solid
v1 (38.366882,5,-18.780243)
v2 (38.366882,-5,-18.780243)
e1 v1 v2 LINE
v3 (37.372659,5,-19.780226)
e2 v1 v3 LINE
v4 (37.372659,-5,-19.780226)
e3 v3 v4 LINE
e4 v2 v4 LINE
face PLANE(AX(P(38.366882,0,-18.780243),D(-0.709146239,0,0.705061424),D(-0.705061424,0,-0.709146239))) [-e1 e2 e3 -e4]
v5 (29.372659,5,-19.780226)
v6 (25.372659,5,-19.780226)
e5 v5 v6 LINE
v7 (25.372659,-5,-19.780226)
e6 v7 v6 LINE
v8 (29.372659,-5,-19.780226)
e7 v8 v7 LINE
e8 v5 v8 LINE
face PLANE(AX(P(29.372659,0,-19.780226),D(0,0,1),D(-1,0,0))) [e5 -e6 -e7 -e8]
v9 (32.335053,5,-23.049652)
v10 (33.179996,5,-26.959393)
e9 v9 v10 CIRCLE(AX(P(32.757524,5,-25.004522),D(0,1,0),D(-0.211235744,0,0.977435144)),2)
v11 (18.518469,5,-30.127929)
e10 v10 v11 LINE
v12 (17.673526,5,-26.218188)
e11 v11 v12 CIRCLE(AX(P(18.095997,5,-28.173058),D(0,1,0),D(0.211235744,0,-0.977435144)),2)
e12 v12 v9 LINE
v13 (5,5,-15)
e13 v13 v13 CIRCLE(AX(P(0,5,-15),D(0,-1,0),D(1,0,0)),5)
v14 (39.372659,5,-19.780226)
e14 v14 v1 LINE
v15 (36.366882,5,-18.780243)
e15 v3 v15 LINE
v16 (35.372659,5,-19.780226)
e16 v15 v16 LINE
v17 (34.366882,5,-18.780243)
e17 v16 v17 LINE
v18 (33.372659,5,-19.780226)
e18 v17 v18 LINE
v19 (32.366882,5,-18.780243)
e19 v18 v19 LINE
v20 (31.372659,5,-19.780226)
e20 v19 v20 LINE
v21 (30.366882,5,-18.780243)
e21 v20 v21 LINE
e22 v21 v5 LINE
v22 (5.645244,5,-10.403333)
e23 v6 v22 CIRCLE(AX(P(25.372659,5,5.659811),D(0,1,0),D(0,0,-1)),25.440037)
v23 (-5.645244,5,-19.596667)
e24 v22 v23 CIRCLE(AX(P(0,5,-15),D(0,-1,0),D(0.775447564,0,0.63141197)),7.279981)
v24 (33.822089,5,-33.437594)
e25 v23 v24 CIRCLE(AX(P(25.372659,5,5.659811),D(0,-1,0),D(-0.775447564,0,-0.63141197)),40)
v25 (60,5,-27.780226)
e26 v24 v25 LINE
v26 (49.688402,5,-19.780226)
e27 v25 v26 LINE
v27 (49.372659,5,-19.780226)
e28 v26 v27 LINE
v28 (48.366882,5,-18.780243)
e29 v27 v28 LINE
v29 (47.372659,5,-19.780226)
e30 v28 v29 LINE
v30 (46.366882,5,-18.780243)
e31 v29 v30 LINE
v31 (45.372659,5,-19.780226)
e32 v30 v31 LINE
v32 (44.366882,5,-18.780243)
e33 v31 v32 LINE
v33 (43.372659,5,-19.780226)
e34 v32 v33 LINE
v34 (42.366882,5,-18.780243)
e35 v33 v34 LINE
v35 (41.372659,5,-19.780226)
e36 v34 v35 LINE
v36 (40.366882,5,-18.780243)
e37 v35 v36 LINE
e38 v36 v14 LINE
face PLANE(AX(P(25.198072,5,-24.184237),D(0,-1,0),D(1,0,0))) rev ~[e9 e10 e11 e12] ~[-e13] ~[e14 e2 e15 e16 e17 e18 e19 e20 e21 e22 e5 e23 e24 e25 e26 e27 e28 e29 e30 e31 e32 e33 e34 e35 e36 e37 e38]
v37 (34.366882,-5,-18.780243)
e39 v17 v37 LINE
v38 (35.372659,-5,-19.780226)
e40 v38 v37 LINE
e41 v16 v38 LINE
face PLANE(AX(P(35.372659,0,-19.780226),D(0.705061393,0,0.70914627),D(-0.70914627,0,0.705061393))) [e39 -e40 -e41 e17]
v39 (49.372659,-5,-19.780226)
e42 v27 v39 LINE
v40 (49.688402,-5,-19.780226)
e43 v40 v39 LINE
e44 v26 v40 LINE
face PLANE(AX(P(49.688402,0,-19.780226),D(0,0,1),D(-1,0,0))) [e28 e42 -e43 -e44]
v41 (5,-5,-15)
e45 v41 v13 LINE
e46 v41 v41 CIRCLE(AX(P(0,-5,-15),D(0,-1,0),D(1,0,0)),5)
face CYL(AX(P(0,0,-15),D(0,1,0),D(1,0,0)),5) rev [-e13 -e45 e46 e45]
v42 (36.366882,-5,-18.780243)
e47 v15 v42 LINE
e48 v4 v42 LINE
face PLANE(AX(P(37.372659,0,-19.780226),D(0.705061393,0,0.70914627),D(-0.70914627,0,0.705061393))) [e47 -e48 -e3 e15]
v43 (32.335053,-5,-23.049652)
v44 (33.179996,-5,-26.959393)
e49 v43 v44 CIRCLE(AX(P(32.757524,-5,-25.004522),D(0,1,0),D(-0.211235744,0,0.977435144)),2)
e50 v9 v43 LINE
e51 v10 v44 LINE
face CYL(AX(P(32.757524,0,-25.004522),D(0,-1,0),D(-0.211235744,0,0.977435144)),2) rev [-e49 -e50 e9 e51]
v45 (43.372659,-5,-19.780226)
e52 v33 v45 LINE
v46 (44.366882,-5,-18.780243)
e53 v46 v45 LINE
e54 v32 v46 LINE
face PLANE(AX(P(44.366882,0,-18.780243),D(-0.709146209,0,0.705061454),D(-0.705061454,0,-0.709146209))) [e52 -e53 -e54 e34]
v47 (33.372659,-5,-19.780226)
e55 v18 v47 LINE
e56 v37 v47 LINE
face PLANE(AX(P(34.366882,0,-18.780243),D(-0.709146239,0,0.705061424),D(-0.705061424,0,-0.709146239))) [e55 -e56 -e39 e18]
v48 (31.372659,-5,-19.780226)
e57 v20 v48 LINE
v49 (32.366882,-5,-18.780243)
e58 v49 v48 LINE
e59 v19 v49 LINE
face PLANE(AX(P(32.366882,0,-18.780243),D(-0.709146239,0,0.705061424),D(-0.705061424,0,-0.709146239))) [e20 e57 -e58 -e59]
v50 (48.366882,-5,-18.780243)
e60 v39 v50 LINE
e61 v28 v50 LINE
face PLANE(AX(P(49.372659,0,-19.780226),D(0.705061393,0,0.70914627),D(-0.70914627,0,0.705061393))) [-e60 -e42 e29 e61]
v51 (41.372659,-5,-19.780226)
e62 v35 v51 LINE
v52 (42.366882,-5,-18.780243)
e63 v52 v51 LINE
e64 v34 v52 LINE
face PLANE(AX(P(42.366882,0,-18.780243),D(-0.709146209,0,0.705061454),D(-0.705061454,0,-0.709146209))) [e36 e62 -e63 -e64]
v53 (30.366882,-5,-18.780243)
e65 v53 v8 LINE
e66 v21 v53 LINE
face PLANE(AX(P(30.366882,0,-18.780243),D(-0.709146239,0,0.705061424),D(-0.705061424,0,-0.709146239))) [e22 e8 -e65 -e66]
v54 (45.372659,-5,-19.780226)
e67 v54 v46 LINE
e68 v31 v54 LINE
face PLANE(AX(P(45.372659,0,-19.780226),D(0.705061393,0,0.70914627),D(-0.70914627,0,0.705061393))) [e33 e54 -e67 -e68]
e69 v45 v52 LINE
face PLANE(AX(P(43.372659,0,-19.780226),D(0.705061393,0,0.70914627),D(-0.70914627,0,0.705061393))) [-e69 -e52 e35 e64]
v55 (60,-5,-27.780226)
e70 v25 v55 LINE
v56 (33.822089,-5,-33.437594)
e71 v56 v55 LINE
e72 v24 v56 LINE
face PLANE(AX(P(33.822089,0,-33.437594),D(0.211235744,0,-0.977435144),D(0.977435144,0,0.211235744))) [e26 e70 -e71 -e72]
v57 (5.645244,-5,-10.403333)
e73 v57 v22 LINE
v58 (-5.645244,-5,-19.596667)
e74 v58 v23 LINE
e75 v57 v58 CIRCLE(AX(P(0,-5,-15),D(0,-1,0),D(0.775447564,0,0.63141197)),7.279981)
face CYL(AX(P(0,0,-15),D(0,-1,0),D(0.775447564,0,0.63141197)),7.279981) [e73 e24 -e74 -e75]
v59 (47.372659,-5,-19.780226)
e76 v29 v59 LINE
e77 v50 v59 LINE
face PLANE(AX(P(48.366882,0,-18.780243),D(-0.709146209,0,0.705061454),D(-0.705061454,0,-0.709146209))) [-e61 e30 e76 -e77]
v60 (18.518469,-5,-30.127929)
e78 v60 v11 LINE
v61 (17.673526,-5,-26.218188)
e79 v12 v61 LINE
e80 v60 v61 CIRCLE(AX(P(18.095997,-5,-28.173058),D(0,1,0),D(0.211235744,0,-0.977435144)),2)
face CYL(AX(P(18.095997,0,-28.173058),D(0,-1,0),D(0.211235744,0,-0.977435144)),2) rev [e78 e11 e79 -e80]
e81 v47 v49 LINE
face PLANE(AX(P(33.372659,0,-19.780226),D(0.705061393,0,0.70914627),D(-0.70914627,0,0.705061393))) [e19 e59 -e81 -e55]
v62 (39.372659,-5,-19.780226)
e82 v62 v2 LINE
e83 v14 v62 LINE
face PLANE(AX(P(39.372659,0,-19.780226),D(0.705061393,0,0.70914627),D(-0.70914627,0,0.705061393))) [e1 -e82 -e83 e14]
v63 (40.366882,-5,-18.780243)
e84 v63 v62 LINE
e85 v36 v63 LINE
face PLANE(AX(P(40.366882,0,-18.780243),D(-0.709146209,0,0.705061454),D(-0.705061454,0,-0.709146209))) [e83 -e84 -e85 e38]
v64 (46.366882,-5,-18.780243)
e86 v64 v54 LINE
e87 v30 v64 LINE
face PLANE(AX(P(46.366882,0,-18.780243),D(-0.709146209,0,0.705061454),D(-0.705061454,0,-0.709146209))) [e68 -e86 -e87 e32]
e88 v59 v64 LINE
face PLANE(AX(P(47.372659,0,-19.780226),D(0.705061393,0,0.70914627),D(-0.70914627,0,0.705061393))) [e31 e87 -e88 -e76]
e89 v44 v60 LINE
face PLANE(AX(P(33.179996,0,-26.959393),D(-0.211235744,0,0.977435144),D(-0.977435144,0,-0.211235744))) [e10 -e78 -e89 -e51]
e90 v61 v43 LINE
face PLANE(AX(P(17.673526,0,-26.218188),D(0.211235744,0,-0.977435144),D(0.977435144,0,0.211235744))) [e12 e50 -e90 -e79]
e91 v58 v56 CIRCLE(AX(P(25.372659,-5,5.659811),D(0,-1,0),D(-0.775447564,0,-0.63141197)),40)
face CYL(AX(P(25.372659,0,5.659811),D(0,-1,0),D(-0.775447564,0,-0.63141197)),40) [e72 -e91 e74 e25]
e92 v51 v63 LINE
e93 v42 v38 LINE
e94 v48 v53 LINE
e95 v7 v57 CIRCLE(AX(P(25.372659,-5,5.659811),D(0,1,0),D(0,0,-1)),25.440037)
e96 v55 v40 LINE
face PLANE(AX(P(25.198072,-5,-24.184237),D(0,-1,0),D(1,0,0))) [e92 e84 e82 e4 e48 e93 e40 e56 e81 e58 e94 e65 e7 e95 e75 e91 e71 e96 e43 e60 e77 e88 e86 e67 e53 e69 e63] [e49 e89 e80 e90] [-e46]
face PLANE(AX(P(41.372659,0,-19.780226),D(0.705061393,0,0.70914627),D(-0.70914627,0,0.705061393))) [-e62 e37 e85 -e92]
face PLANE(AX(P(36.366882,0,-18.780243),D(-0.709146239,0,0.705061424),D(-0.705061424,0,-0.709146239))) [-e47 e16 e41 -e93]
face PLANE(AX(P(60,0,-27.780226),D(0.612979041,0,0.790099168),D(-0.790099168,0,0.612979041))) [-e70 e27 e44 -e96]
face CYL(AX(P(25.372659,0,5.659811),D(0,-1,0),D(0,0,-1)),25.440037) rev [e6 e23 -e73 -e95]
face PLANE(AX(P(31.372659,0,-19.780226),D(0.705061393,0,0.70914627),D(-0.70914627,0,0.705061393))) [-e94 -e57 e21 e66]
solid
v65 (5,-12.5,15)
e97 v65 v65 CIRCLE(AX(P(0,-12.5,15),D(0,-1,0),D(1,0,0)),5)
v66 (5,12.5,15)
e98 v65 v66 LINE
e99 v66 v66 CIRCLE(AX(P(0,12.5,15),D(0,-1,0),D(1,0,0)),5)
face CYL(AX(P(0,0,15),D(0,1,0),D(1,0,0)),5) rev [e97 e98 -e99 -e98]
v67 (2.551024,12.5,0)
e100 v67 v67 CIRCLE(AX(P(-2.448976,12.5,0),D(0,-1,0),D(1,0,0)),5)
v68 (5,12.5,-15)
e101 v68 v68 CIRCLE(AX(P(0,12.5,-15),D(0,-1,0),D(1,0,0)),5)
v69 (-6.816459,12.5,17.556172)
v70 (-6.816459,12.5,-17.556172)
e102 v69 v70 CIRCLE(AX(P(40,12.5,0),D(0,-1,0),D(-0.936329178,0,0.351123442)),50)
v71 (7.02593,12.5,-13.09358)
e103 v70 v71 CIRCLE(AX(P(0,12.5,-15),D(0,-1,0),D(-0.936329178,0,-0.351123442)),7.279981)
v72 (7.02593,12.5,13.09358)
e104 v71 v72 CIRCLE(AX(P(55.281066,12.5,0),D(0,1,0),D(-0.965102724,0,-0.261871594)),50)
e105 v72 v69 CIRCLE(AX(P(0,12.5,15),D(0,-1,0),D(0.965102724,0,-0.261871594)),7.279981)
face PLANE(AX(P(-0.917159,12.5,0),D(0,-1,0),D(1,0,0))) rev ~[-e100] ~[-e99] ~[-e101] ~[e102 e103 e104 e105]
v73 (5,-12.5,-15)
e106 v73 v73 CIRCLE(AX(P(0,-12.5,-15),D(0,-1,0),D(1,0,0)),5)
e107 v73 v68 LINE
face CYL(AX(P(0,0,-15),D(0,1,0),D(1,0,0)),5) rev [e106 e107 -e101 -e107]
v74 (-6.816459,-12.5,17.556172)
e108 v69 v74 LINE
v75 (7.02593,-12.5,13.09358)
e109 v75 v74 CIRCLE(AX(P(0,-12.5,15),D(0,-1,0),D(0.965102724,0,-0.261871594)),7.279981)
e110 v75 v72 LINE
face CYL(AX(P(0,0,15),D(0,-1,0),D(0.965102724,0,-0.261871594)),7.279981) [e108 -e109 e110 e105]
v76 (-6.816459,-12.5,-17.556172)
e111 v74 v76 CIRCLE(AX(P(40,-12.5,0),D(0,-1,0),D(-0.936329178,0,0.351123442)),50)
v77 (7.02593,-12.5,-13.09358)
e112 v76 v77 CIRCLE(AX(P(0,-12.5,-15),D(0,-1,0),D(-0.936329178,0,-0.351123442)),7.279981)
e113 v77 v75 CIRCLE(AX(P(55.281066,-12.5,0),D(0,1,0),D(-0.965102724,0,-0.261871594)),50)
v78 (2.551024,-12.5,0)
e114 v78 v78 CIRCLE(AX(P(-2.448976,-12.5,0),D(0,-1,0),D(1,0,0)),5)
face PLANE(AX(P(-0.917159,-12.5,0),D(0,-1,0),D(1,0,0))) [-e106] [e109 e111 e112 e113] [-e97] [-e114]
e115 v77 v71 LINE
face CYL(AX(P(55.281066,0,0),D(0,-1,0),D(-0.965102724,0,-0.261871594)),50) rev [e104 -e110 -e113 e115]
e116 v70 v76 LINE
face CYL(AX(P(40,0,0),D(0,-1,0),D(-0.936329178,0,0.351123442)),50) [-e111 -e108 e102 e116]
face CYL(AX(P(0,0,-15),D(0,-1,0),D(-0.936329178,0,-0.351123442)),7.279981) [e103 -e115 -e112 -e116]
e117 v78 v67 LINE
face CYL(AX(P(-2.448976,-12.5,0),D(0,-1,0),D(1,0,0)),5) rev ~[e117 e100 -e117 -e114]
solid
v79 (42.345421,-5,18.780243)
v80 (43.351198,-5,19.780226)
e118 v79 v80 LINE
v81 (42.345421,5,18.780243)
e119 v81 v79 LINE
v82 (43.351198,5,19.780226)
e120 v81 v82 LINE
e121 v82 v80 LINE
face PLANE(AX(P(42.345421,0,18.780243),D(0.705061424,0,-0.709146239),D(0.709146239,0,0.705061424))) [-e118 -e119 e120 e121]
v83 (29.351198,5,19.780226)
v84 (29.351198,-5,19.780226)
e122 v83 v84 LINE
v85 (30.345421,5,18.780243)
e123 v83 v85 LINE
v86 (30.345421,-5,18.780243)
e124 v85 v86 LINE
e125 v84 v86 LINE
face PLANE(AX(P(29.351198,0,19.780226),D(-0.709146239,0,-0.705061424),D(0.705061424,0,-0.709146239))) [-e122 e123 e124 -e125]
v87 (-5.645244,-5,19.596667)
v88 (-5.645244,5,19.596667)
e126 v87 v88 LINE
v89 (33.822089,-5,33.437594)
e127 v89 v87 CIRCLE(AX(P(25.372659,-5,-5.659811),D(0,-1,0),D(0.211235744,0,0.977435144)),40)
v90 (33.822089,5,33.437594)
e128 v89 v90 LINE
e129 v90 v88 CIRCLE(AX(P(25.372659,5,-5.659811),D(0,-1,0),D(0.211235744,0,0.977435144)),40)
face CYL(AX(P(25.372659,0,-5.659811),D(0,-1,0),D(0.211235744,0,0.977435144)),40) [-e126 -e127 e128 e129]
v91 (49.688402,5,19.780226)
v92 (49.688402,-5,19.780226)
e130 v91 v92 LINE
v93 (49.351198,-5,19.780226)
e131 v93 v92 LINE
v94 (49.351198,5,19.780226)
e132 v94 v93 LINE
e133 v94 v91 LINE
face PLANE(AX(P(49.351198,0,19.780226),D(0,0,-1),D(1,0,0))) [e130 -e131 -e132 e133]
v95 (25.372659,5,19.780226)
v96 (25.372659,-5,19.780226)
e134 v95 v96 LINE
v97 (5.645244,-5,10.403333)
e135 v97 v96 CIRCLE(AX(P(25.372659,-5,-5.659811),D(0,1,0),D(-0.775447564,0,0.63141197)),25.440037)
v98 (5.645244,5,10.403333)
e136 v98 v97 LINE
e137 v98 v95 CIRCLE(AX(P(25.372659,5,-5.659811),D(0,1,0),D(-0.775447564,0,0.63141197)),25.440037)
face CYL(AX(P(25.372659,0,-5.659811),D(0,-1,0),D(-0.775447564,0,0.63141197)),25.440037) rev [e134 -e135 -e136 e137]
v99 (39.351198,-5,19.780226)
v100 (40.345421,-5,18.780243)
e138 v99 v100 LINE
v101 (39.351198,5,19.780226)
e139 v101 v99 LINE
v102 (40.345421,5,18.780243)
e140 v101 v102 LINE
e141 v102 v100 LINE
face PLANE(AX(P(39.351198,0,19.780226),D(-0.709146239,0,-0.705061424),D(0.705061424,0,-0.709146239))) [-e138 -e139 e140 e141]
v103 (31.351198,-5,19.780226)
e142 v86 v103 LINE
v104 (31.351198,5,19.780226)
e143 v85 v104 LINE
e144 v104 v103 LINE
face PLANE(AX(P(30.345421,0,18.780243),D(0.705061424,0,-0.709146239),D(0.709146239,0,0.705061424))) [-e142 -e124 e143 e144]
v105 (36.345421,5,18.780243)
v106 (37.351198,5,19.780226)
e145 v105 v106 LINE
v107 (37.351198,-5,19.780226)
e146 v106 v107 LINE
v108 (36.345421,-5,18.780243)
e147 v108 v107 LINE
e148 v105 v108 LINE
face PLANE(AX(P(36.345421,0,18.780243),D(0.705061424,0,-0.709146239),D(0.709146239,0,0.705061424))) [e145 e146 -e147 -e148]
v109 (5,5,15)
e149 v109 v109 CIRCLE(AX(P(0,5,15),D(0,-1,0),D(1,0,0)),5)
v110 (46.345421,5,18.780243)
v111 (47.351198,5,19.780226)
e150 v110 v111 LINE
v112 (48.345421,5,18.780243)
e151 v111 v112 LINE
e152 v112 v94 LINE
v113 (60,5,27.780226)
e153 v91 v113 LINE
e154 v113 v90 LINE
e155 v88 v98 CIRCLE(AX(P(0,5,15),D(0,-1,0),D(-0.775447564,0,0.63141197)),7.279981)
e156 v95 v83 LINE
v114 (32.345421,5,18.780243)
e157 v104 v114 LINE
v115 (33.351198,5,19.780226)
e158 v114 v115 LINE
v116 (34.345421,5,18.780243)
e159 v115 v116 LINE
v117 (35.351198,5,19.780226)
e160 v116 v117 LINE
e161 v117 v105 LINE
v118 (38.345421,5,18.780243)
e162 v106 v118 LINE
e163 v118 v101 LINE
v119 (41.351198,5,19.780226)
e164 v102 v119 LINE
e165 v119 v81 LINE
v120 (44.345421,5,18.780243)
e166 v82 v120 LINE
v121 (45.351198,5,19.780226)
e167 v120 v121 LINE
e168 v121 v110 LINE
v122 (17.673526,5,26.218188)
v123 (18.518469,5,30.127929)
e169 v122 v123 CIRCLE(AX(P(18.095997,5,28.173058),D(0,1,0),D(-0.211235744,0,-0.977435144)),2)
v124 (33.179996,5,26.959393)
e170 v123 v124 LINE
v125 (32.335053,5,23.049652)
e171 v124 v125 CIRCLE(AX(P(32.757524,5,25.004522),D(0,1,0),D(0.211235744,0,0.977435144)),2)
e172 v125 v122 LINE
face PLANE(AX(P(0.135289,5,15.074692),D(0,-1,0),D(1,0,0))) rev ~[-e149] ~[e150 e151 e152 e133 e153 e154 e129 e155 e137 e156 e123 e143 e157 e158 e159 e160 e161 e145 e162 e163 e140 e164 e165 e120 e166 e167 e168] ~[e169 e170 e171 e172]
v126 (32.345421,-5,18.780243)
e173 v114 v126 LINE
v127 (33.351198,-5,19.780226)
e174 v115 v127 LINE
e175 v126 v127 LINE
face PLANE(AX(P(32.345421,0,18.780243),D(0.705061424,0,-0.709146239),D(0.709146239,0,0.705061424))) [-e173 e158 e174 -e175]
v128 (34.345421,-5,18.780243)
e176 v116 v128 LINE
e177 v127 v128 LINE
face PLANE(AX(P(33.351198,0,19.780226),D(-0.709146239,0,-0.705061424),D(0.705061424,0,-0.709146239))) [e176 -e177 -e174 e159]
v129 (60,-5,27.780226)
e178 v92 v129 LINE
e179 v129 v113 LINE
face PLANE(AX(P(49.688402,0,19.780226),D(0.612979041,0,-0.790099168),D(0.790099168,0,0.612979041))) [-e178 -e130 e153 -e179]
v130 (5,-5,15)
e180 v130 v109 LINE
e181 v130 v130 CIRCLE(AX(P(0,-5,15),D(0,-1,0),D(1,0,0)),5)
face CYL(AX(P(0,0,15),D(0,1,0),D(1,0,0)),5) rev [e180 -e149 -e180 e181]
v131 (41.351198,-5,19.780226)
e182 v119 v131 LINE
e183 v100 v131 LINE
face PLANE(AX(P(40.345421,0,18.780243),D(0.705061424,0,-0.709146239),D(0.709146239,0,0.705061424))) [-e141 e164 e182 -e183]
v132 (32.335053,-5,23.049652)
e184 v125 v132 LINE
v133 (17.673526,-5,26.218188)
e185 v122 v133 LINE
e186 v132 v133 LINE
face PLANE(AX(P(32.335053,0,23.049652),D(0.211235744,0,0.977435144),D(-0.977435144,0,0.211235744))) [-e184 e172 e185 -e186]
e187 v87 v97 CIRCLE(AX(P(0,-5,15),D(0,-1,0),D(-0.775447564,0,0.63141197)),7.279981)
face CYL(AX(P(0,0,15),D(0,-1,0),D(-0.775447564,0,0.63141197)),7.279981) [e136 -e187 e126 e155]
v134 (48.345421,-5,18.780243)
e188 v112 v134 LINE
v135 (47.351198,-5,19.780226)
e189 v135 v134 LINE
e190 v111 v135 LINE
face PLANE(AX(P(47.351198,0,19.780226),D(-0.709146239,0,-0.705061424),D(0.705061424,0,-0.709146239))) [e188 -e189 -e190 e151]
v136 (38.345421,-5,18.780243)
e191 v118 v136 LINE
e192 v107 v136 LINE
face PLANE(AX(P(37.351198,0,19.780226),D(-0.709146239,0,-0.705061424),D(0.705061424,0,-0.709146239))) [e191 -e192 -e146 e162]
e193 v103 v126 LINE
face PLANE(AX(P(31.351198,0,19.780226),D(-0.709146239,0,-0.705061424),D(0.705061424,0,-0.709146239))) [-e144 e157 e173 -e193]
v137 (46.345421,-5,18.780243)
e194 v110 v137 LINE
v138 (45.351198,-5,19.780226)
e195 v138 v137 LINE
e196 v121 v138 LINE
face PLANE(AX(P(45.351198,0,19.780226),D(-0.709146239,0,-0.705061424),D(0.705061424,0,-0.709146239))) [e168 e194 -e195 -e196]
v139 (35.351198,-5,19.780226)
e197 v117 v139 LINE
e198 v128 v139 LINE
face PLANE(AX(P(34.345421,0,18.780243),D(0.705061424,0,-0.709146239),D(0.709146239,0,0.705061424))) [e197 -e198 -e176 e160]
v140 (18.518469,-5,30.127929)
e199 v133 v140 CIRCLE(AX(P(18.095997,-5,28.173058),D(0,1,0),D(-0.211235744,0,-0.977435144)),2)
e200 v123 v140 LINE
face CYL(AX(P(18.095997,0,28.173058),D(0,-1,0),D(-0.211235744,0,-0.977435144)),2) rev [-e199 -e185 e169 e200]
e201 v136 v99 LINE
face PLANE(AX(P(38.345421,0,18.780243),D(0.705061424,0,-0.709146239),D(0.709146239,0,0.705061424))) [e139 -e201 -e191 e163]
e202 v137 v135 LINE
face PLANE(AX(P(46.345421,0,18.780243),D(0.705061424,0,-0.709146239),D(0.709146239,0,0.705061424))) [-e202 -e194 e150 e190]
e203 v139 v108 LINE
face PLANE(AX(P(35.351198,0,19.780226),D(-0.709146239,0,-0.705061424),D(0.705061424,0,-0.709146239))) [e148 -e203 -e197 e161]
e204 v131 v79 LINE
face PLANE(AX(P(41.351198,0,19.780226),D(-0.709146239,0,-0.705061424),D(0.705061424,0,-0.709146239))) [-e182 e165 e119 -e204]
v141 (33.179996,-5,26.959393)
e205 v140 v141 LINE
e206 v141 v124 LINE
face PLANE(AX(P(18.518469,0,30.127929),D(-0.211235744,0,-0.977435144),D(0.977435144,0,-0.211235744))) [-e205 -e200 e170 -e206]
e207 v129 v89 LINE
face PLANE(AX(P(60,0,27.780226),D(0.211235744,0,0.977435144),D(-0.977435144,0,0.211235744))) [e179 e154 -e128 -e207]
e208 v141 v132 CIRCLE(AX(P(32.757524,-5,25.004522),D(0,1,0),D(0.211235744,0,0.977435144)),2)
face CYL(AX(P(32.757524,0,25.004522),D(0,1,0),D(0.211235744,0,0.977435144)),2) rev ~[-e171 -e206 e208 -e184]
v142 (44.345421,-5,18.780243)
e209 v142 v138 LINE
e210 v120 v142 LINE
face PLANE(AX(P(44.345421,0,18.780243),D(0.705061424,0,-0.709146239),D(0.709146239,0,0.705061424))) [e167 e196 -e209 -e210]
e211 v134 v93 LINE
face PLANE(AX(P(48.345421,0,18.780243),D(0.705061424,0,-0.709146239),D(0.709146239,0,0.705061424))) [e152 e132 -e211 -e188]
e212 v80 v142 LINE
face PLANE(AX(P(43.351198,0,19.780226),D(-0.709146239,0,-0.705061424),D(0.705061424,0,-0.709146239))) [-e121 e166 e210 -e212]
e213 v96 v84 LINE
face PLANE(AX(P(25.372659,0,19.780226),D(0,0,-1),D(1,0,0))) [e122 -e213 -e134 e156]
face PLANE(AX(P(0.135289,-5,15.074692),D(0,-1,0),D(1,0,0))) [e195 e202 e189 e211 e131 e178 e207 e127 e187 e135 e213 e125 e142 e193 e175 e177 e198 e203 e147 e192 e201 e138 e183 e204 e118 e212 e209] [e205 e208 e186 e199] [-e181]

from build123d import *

# Parameters (mm, degrees)
F0_R     = 5
F2_DEPTH = 12.5
F1_R     = 5
F3_DEPTH = 5
F4_R     = 5
F5_DEPTH = 25.001


with BuildPart() as f2:
    # F0 (on Front) → F2 (new body, symmetric)
    with BuildSketch(Plane.XZ):
        with BuildLine():
            ThreePointArc((7.0259297591, 13.0935796997), (2.2337529405, 21.928814844), (-6.8164588785, 17.5561720794))
            ThreePointArc((-6.8164588785, 17.5561720794), (-10, 0), (-6.8164588785, -17.5561720794))
            ThreePointArc((-6.8164588785, -17.5561720794), (2.2337529405, -21.928814844), (7.0259297591, -13.0935796997))
            ThreePointArc((7.0259297591, -13.0935796997), (5.2810659691, 0), (7.0259297591, 13.0935796997))
        make_face()
        with Locations((0, -15)):
            Circle(F0_R, mode=Mode.SUBTRACT)
        with Locations((0, 15)):
            Circle(F0_R, mode=Mode.SUBTRACT)
    extrude(amount=F2_DEPTH, both=True)

    # F4 (on face) → F5 (cut, through all)
    with BuildSketch(Plane.XZ.offset(12.5)):
        with Locations((0, -15)):
            Circle(F4_R)
        with Locations((0, 15)):
            Circle(F4_R)
        with Locations((-2.44897563, 0)):
            Circle(F4_R)
    extrude(amount=-F5_DEPTH, mode=Mode.SUBTRACT)


with BuildPart() as f3:
    # F1 (on Front) → F3 (new body, symmetric)
    with BuildSketch(Plane.XZ):
        with BuildLine():
            ThreePointArc((5.6452437418, 10.4033326816), (6.8591324548, 12.5606498184), (7.2799812734, 15))
            ThreePointArc((7.2799812734, 15), (2.4393501816, 21.8591324548), (-5.6452437418, 19.5966673184))
            ThreePointArc((-5.6452437418, 19.5966673184), (-4.5966673184, 9.3547562582), (5.6452437418, 10.4033326816))
        make_face()
        with Locations((0, 15)):
            Circle(F1_R, mode=Mode.SUBTRACT)
        with BuildLine():
            ThreePointArc((-5.6452437418, 19.5966673184), (2.4393501816, 21.8591324548), (7.2799812734, 15))
            ThreePointArc((7.2799812734, 15), (6.8591324548, 12.5606498184), (5.6452437418, 10.4033326816))
            ThreePointArc((5.6452437418, 10.4033326816), (14.451383321, 17.3167254025), (25.372658804, 19.780225966))
            Line((25.372658804, 19.780225966), (29.3511980622, 19.780225966))
            Line((29.3511980622, 19.780225966), (31.3511980622, 19.780225966))
            Line((31.3511980622, 19.780225966), (33.3511980622, 19.780225966))
            Line((33.3511980622, 19.780225966), (35.3511980622, 19.780225966))
            Line((35.3511980622, 19.780225966), (37.3511980622, 19.780225966))
            Line((37.3511980622, 19.780225966), (39.3511980622, 19.780225966))
            Line((39.3511980622, 19.780225966), (41.3511980622, 19.780225966))
            Line((41.3511980622, 19.780225966), (43.3511980622, 19.780225966))
            Line((43.3511980622, 19.780225966), (45.3511980622, 19.780225966))
            Line((45.3511980622, 19.780225966), (47.3511980622, 19.780225966))
            Line((47.3511980622, 19.780225966), (49.3511980622, 19.780225966))
            Line((49.3511980622, 19.780225966), (49.6884021907, 19.780225966))
            Line((49.6884021907, 19.780225966), (60, 27.780225966))
            Line((60, 27.780225966), (33.8220885653, 33.437594267))
            ThreePointArc((33.8220885653, 33.437594267), (12.1353325764, 32.0863564553), (-5.6452437418, 19.5966673184))
        make_face()
        with BuildLine():
            ThreePointArc((17.6735257598, 26.2181881521), (16.1411269602, 28.5955299278), (18.518468736, 30.1279287275))
            Line((18.518468736, 30.1279287275), (33.1799958938, 26.959392567))
            ThreePointArc((33.1799958938, 26.959392567), (34.7123946934, 24.5820507912), (32.3350529176, 23.0496519916))
            Line((32.3350529176, 23.0496519916), (17.6735257598, 26.2181881521))
        make_face(mode=Mode.SUBTRACT)
        Polygon((31.3511980622, 19.780225966), (29.3511980622, 19.780225966), (30.3454212844, 18.7802426517), align=None)
        Polygon((33.3511980622, 19.780225966), (31.3511980622, 19.780225966), (32.3454212844, 18.7802426517), align=None)
        Polygon((48.3454212844, 18.7802426517), (49.3511980622, 19.780225966), (47.3511980622, 19.780225966), align=None)
        Polygon((35.3511980622, 19.780225966), (33.3511980622, 19.780225966), (34.3454212844, 18.7802426517), align=None)
        Polygon((46.3454212844, 18.7802426517), (47.3511980622, 19.780225966), (45.3511980622, 19.780225966), align=None)
        Polygon((37.3511980622, 19.780225966), (35.3511980622, 19.780225966), (36.3454212844, 18.7802426517), align=None)
        Polygon((44.3454212844, 18.7802426517), (45.3511980622, 19.780225966), (43.3511980622, 19.780225966), align=None)
        Polygon((39.3511980622, 19.780225966), (37.3511980622, 19.780225966), (38.3454212844, 18.7802426517), align=None)
        Polygon((42.3454212844, 18.7802426517), (43.3511980622, 19.780225966), (41.3511980622, 19.780225966), align=None)
        Polygon((41.3511980622, 19.780225966), (39.3511980622, 19.780225966), (40.3454212844, 18.7802426517), align=None)
    extrude(amount=F3_DEPTH, both=True)


with BuildPart() as f3b:
    # F1 (on Front) → F3, piece 2 (new body, symmetric)
    with BuildSketch(Plane.XZ):
        with BuildLine():
            ThreePointArc((-5.6452437418, -19.5966673184), (12.1353325764, -32.0863564553), (33.8220885653, -33.437594267))
            Line((33.8220885653, -33.437594267), (60, -27.780225966))
            Line((60, -27.780225966), (49.6884021907, -19.780225966))
            Line((49.6884021907, -19.780225966), (49.3726588903, -19.780225966))
            Line((49.3726588903, -19.780225966), (47.3726588903, -19.780225966))
            Line((47.3726588903, -19.780225966), (45.3726588903, -19.780225966))
            Line((45.3726588903, -19.780225966), (43.3726588903, -19.780225966))
            Line((43.3726588903, -19.780225966), (41.3726588903, -19.780225966))
            Line((41.3726588903, -19.780225966), (39.3726588903, -19.780225966))
            Line((39.3726588903, -19.780225966), (37.3726588903, -19.780225966))
            Line((37.3726588903, -19.780225966), (35.3726588903, -19.780225966))
            Line((35.3726588903, -19.780225966), (33.3726588903, -19.780225966))
            Line((33.3726588903, -19.780225966), (31.3726588903, -19.780225966))
            Line((31.3726588903, -19.780225966), (29.3726588903, -19.780225966))
            Line((29.3726588903, -19.780225966), (25.372658804, -19.780225966))
            ThreePointArc((25.372658804, -19.780225966), (14.451383321, -17.3167254025), (5.6452437418, -10.4033326816))
            ThreePointArc((5.6452437418, -10.4033326816), (6.8591324548, -12.5606498184), (7.2799812734, -15))
            ThreePointArc((7.2799812734, -15), (2.4393501816, -21.8591324548), (-5.6452437418, -19.5966673184))
        make_face()
        with BuildLine():
            Line((17.6735257598, -26.2181881521), (32.3350529176, -23.0496519916))
            ThreePointArc((32.3350529176, -23.0496519916), (34.7123946934, -24.5820507912), (33.1799958938, -26.959392567))
            Line((33.1799958938, -26.959392567), (18.518468736, -30.1279287275))
            ThreePointArc((18.518468736, -30.1279287275), (16.1411269602, -28.5955299278), (17.6735257598, -26.2181881521))
        make_face(mode=Mode.SUBTRACT)
        with BuildLine():
            ThreePointArc((5.6452437418, -10.4033326816), (-4.5966673184, -9.3547562582), (-5.6452437418, -19.5966673184))
            ThreePointArc((-5.6452437418, -19.5966673184), (2.4393501816, -21.8591324548), (7.2799812734, -15))
            ThreePointArc((7.2799812734, -15), (6.8591324548, -12.5606498184), (5.6452437418, -10.4033326816))
        make_face()
        with Locations((0, -15)):
            Circle(F1_R, mode=Mode.SUBTRACT)
        Polygon((47.3726588903, -19.780225966), (49.3726588903, -19.780225966), (48.3668821125, -18.7802427375), align=None)
        Polygon((30.3668821125, -18.7802427375), (29.3726588903, -19.7802260518), (31.3726588903, -19.780225966), align=None)
        Polygon((45.3726588903, -19.780225966), (47.3726588903, -19.780225966), (46.3668821125, -18.7802427375), align=None)
        Polygon((32.3668821125, -18.7802427375), (31.3726588903, -19.7802260518), (33.3726588903, -19.780225966), align=None)
        Polygon((43.3726588903, -19.780225966), (45.3726588903, -19.780225966), (44.3668821125, -18.7802427375), align=None)
        Polygon((34.3668821125, -18.7802427375), (33.3726588903, -19.7802260518), (35.3726588903, -19.780225966), align=None)
        Polygon((41.3726588903, -19.780225966), (43.3726588903, -19.780225966), (42.3668821125, -18.7802427375), align=None)
        Polygon((36.3668821125, -18.7802427375), (35.3726588903, -19.7802260518), (37.3726588903, -19.780225966), align=None)
        Polygon((39.3726588903, -19.780225966), (41.3726588903, -19.780225966), (40.3668821125, -18.7802427375), align=None)
        Polygon((38.3668821125, -18.7802427375), (37.3726588903, -19.7802260518), (39.3726588903, -19.780225966), align=None)
    extrude(amount=F3_DEPTH, both=True)


solid = Compound([f2.part, f3.part, f3b.part])
